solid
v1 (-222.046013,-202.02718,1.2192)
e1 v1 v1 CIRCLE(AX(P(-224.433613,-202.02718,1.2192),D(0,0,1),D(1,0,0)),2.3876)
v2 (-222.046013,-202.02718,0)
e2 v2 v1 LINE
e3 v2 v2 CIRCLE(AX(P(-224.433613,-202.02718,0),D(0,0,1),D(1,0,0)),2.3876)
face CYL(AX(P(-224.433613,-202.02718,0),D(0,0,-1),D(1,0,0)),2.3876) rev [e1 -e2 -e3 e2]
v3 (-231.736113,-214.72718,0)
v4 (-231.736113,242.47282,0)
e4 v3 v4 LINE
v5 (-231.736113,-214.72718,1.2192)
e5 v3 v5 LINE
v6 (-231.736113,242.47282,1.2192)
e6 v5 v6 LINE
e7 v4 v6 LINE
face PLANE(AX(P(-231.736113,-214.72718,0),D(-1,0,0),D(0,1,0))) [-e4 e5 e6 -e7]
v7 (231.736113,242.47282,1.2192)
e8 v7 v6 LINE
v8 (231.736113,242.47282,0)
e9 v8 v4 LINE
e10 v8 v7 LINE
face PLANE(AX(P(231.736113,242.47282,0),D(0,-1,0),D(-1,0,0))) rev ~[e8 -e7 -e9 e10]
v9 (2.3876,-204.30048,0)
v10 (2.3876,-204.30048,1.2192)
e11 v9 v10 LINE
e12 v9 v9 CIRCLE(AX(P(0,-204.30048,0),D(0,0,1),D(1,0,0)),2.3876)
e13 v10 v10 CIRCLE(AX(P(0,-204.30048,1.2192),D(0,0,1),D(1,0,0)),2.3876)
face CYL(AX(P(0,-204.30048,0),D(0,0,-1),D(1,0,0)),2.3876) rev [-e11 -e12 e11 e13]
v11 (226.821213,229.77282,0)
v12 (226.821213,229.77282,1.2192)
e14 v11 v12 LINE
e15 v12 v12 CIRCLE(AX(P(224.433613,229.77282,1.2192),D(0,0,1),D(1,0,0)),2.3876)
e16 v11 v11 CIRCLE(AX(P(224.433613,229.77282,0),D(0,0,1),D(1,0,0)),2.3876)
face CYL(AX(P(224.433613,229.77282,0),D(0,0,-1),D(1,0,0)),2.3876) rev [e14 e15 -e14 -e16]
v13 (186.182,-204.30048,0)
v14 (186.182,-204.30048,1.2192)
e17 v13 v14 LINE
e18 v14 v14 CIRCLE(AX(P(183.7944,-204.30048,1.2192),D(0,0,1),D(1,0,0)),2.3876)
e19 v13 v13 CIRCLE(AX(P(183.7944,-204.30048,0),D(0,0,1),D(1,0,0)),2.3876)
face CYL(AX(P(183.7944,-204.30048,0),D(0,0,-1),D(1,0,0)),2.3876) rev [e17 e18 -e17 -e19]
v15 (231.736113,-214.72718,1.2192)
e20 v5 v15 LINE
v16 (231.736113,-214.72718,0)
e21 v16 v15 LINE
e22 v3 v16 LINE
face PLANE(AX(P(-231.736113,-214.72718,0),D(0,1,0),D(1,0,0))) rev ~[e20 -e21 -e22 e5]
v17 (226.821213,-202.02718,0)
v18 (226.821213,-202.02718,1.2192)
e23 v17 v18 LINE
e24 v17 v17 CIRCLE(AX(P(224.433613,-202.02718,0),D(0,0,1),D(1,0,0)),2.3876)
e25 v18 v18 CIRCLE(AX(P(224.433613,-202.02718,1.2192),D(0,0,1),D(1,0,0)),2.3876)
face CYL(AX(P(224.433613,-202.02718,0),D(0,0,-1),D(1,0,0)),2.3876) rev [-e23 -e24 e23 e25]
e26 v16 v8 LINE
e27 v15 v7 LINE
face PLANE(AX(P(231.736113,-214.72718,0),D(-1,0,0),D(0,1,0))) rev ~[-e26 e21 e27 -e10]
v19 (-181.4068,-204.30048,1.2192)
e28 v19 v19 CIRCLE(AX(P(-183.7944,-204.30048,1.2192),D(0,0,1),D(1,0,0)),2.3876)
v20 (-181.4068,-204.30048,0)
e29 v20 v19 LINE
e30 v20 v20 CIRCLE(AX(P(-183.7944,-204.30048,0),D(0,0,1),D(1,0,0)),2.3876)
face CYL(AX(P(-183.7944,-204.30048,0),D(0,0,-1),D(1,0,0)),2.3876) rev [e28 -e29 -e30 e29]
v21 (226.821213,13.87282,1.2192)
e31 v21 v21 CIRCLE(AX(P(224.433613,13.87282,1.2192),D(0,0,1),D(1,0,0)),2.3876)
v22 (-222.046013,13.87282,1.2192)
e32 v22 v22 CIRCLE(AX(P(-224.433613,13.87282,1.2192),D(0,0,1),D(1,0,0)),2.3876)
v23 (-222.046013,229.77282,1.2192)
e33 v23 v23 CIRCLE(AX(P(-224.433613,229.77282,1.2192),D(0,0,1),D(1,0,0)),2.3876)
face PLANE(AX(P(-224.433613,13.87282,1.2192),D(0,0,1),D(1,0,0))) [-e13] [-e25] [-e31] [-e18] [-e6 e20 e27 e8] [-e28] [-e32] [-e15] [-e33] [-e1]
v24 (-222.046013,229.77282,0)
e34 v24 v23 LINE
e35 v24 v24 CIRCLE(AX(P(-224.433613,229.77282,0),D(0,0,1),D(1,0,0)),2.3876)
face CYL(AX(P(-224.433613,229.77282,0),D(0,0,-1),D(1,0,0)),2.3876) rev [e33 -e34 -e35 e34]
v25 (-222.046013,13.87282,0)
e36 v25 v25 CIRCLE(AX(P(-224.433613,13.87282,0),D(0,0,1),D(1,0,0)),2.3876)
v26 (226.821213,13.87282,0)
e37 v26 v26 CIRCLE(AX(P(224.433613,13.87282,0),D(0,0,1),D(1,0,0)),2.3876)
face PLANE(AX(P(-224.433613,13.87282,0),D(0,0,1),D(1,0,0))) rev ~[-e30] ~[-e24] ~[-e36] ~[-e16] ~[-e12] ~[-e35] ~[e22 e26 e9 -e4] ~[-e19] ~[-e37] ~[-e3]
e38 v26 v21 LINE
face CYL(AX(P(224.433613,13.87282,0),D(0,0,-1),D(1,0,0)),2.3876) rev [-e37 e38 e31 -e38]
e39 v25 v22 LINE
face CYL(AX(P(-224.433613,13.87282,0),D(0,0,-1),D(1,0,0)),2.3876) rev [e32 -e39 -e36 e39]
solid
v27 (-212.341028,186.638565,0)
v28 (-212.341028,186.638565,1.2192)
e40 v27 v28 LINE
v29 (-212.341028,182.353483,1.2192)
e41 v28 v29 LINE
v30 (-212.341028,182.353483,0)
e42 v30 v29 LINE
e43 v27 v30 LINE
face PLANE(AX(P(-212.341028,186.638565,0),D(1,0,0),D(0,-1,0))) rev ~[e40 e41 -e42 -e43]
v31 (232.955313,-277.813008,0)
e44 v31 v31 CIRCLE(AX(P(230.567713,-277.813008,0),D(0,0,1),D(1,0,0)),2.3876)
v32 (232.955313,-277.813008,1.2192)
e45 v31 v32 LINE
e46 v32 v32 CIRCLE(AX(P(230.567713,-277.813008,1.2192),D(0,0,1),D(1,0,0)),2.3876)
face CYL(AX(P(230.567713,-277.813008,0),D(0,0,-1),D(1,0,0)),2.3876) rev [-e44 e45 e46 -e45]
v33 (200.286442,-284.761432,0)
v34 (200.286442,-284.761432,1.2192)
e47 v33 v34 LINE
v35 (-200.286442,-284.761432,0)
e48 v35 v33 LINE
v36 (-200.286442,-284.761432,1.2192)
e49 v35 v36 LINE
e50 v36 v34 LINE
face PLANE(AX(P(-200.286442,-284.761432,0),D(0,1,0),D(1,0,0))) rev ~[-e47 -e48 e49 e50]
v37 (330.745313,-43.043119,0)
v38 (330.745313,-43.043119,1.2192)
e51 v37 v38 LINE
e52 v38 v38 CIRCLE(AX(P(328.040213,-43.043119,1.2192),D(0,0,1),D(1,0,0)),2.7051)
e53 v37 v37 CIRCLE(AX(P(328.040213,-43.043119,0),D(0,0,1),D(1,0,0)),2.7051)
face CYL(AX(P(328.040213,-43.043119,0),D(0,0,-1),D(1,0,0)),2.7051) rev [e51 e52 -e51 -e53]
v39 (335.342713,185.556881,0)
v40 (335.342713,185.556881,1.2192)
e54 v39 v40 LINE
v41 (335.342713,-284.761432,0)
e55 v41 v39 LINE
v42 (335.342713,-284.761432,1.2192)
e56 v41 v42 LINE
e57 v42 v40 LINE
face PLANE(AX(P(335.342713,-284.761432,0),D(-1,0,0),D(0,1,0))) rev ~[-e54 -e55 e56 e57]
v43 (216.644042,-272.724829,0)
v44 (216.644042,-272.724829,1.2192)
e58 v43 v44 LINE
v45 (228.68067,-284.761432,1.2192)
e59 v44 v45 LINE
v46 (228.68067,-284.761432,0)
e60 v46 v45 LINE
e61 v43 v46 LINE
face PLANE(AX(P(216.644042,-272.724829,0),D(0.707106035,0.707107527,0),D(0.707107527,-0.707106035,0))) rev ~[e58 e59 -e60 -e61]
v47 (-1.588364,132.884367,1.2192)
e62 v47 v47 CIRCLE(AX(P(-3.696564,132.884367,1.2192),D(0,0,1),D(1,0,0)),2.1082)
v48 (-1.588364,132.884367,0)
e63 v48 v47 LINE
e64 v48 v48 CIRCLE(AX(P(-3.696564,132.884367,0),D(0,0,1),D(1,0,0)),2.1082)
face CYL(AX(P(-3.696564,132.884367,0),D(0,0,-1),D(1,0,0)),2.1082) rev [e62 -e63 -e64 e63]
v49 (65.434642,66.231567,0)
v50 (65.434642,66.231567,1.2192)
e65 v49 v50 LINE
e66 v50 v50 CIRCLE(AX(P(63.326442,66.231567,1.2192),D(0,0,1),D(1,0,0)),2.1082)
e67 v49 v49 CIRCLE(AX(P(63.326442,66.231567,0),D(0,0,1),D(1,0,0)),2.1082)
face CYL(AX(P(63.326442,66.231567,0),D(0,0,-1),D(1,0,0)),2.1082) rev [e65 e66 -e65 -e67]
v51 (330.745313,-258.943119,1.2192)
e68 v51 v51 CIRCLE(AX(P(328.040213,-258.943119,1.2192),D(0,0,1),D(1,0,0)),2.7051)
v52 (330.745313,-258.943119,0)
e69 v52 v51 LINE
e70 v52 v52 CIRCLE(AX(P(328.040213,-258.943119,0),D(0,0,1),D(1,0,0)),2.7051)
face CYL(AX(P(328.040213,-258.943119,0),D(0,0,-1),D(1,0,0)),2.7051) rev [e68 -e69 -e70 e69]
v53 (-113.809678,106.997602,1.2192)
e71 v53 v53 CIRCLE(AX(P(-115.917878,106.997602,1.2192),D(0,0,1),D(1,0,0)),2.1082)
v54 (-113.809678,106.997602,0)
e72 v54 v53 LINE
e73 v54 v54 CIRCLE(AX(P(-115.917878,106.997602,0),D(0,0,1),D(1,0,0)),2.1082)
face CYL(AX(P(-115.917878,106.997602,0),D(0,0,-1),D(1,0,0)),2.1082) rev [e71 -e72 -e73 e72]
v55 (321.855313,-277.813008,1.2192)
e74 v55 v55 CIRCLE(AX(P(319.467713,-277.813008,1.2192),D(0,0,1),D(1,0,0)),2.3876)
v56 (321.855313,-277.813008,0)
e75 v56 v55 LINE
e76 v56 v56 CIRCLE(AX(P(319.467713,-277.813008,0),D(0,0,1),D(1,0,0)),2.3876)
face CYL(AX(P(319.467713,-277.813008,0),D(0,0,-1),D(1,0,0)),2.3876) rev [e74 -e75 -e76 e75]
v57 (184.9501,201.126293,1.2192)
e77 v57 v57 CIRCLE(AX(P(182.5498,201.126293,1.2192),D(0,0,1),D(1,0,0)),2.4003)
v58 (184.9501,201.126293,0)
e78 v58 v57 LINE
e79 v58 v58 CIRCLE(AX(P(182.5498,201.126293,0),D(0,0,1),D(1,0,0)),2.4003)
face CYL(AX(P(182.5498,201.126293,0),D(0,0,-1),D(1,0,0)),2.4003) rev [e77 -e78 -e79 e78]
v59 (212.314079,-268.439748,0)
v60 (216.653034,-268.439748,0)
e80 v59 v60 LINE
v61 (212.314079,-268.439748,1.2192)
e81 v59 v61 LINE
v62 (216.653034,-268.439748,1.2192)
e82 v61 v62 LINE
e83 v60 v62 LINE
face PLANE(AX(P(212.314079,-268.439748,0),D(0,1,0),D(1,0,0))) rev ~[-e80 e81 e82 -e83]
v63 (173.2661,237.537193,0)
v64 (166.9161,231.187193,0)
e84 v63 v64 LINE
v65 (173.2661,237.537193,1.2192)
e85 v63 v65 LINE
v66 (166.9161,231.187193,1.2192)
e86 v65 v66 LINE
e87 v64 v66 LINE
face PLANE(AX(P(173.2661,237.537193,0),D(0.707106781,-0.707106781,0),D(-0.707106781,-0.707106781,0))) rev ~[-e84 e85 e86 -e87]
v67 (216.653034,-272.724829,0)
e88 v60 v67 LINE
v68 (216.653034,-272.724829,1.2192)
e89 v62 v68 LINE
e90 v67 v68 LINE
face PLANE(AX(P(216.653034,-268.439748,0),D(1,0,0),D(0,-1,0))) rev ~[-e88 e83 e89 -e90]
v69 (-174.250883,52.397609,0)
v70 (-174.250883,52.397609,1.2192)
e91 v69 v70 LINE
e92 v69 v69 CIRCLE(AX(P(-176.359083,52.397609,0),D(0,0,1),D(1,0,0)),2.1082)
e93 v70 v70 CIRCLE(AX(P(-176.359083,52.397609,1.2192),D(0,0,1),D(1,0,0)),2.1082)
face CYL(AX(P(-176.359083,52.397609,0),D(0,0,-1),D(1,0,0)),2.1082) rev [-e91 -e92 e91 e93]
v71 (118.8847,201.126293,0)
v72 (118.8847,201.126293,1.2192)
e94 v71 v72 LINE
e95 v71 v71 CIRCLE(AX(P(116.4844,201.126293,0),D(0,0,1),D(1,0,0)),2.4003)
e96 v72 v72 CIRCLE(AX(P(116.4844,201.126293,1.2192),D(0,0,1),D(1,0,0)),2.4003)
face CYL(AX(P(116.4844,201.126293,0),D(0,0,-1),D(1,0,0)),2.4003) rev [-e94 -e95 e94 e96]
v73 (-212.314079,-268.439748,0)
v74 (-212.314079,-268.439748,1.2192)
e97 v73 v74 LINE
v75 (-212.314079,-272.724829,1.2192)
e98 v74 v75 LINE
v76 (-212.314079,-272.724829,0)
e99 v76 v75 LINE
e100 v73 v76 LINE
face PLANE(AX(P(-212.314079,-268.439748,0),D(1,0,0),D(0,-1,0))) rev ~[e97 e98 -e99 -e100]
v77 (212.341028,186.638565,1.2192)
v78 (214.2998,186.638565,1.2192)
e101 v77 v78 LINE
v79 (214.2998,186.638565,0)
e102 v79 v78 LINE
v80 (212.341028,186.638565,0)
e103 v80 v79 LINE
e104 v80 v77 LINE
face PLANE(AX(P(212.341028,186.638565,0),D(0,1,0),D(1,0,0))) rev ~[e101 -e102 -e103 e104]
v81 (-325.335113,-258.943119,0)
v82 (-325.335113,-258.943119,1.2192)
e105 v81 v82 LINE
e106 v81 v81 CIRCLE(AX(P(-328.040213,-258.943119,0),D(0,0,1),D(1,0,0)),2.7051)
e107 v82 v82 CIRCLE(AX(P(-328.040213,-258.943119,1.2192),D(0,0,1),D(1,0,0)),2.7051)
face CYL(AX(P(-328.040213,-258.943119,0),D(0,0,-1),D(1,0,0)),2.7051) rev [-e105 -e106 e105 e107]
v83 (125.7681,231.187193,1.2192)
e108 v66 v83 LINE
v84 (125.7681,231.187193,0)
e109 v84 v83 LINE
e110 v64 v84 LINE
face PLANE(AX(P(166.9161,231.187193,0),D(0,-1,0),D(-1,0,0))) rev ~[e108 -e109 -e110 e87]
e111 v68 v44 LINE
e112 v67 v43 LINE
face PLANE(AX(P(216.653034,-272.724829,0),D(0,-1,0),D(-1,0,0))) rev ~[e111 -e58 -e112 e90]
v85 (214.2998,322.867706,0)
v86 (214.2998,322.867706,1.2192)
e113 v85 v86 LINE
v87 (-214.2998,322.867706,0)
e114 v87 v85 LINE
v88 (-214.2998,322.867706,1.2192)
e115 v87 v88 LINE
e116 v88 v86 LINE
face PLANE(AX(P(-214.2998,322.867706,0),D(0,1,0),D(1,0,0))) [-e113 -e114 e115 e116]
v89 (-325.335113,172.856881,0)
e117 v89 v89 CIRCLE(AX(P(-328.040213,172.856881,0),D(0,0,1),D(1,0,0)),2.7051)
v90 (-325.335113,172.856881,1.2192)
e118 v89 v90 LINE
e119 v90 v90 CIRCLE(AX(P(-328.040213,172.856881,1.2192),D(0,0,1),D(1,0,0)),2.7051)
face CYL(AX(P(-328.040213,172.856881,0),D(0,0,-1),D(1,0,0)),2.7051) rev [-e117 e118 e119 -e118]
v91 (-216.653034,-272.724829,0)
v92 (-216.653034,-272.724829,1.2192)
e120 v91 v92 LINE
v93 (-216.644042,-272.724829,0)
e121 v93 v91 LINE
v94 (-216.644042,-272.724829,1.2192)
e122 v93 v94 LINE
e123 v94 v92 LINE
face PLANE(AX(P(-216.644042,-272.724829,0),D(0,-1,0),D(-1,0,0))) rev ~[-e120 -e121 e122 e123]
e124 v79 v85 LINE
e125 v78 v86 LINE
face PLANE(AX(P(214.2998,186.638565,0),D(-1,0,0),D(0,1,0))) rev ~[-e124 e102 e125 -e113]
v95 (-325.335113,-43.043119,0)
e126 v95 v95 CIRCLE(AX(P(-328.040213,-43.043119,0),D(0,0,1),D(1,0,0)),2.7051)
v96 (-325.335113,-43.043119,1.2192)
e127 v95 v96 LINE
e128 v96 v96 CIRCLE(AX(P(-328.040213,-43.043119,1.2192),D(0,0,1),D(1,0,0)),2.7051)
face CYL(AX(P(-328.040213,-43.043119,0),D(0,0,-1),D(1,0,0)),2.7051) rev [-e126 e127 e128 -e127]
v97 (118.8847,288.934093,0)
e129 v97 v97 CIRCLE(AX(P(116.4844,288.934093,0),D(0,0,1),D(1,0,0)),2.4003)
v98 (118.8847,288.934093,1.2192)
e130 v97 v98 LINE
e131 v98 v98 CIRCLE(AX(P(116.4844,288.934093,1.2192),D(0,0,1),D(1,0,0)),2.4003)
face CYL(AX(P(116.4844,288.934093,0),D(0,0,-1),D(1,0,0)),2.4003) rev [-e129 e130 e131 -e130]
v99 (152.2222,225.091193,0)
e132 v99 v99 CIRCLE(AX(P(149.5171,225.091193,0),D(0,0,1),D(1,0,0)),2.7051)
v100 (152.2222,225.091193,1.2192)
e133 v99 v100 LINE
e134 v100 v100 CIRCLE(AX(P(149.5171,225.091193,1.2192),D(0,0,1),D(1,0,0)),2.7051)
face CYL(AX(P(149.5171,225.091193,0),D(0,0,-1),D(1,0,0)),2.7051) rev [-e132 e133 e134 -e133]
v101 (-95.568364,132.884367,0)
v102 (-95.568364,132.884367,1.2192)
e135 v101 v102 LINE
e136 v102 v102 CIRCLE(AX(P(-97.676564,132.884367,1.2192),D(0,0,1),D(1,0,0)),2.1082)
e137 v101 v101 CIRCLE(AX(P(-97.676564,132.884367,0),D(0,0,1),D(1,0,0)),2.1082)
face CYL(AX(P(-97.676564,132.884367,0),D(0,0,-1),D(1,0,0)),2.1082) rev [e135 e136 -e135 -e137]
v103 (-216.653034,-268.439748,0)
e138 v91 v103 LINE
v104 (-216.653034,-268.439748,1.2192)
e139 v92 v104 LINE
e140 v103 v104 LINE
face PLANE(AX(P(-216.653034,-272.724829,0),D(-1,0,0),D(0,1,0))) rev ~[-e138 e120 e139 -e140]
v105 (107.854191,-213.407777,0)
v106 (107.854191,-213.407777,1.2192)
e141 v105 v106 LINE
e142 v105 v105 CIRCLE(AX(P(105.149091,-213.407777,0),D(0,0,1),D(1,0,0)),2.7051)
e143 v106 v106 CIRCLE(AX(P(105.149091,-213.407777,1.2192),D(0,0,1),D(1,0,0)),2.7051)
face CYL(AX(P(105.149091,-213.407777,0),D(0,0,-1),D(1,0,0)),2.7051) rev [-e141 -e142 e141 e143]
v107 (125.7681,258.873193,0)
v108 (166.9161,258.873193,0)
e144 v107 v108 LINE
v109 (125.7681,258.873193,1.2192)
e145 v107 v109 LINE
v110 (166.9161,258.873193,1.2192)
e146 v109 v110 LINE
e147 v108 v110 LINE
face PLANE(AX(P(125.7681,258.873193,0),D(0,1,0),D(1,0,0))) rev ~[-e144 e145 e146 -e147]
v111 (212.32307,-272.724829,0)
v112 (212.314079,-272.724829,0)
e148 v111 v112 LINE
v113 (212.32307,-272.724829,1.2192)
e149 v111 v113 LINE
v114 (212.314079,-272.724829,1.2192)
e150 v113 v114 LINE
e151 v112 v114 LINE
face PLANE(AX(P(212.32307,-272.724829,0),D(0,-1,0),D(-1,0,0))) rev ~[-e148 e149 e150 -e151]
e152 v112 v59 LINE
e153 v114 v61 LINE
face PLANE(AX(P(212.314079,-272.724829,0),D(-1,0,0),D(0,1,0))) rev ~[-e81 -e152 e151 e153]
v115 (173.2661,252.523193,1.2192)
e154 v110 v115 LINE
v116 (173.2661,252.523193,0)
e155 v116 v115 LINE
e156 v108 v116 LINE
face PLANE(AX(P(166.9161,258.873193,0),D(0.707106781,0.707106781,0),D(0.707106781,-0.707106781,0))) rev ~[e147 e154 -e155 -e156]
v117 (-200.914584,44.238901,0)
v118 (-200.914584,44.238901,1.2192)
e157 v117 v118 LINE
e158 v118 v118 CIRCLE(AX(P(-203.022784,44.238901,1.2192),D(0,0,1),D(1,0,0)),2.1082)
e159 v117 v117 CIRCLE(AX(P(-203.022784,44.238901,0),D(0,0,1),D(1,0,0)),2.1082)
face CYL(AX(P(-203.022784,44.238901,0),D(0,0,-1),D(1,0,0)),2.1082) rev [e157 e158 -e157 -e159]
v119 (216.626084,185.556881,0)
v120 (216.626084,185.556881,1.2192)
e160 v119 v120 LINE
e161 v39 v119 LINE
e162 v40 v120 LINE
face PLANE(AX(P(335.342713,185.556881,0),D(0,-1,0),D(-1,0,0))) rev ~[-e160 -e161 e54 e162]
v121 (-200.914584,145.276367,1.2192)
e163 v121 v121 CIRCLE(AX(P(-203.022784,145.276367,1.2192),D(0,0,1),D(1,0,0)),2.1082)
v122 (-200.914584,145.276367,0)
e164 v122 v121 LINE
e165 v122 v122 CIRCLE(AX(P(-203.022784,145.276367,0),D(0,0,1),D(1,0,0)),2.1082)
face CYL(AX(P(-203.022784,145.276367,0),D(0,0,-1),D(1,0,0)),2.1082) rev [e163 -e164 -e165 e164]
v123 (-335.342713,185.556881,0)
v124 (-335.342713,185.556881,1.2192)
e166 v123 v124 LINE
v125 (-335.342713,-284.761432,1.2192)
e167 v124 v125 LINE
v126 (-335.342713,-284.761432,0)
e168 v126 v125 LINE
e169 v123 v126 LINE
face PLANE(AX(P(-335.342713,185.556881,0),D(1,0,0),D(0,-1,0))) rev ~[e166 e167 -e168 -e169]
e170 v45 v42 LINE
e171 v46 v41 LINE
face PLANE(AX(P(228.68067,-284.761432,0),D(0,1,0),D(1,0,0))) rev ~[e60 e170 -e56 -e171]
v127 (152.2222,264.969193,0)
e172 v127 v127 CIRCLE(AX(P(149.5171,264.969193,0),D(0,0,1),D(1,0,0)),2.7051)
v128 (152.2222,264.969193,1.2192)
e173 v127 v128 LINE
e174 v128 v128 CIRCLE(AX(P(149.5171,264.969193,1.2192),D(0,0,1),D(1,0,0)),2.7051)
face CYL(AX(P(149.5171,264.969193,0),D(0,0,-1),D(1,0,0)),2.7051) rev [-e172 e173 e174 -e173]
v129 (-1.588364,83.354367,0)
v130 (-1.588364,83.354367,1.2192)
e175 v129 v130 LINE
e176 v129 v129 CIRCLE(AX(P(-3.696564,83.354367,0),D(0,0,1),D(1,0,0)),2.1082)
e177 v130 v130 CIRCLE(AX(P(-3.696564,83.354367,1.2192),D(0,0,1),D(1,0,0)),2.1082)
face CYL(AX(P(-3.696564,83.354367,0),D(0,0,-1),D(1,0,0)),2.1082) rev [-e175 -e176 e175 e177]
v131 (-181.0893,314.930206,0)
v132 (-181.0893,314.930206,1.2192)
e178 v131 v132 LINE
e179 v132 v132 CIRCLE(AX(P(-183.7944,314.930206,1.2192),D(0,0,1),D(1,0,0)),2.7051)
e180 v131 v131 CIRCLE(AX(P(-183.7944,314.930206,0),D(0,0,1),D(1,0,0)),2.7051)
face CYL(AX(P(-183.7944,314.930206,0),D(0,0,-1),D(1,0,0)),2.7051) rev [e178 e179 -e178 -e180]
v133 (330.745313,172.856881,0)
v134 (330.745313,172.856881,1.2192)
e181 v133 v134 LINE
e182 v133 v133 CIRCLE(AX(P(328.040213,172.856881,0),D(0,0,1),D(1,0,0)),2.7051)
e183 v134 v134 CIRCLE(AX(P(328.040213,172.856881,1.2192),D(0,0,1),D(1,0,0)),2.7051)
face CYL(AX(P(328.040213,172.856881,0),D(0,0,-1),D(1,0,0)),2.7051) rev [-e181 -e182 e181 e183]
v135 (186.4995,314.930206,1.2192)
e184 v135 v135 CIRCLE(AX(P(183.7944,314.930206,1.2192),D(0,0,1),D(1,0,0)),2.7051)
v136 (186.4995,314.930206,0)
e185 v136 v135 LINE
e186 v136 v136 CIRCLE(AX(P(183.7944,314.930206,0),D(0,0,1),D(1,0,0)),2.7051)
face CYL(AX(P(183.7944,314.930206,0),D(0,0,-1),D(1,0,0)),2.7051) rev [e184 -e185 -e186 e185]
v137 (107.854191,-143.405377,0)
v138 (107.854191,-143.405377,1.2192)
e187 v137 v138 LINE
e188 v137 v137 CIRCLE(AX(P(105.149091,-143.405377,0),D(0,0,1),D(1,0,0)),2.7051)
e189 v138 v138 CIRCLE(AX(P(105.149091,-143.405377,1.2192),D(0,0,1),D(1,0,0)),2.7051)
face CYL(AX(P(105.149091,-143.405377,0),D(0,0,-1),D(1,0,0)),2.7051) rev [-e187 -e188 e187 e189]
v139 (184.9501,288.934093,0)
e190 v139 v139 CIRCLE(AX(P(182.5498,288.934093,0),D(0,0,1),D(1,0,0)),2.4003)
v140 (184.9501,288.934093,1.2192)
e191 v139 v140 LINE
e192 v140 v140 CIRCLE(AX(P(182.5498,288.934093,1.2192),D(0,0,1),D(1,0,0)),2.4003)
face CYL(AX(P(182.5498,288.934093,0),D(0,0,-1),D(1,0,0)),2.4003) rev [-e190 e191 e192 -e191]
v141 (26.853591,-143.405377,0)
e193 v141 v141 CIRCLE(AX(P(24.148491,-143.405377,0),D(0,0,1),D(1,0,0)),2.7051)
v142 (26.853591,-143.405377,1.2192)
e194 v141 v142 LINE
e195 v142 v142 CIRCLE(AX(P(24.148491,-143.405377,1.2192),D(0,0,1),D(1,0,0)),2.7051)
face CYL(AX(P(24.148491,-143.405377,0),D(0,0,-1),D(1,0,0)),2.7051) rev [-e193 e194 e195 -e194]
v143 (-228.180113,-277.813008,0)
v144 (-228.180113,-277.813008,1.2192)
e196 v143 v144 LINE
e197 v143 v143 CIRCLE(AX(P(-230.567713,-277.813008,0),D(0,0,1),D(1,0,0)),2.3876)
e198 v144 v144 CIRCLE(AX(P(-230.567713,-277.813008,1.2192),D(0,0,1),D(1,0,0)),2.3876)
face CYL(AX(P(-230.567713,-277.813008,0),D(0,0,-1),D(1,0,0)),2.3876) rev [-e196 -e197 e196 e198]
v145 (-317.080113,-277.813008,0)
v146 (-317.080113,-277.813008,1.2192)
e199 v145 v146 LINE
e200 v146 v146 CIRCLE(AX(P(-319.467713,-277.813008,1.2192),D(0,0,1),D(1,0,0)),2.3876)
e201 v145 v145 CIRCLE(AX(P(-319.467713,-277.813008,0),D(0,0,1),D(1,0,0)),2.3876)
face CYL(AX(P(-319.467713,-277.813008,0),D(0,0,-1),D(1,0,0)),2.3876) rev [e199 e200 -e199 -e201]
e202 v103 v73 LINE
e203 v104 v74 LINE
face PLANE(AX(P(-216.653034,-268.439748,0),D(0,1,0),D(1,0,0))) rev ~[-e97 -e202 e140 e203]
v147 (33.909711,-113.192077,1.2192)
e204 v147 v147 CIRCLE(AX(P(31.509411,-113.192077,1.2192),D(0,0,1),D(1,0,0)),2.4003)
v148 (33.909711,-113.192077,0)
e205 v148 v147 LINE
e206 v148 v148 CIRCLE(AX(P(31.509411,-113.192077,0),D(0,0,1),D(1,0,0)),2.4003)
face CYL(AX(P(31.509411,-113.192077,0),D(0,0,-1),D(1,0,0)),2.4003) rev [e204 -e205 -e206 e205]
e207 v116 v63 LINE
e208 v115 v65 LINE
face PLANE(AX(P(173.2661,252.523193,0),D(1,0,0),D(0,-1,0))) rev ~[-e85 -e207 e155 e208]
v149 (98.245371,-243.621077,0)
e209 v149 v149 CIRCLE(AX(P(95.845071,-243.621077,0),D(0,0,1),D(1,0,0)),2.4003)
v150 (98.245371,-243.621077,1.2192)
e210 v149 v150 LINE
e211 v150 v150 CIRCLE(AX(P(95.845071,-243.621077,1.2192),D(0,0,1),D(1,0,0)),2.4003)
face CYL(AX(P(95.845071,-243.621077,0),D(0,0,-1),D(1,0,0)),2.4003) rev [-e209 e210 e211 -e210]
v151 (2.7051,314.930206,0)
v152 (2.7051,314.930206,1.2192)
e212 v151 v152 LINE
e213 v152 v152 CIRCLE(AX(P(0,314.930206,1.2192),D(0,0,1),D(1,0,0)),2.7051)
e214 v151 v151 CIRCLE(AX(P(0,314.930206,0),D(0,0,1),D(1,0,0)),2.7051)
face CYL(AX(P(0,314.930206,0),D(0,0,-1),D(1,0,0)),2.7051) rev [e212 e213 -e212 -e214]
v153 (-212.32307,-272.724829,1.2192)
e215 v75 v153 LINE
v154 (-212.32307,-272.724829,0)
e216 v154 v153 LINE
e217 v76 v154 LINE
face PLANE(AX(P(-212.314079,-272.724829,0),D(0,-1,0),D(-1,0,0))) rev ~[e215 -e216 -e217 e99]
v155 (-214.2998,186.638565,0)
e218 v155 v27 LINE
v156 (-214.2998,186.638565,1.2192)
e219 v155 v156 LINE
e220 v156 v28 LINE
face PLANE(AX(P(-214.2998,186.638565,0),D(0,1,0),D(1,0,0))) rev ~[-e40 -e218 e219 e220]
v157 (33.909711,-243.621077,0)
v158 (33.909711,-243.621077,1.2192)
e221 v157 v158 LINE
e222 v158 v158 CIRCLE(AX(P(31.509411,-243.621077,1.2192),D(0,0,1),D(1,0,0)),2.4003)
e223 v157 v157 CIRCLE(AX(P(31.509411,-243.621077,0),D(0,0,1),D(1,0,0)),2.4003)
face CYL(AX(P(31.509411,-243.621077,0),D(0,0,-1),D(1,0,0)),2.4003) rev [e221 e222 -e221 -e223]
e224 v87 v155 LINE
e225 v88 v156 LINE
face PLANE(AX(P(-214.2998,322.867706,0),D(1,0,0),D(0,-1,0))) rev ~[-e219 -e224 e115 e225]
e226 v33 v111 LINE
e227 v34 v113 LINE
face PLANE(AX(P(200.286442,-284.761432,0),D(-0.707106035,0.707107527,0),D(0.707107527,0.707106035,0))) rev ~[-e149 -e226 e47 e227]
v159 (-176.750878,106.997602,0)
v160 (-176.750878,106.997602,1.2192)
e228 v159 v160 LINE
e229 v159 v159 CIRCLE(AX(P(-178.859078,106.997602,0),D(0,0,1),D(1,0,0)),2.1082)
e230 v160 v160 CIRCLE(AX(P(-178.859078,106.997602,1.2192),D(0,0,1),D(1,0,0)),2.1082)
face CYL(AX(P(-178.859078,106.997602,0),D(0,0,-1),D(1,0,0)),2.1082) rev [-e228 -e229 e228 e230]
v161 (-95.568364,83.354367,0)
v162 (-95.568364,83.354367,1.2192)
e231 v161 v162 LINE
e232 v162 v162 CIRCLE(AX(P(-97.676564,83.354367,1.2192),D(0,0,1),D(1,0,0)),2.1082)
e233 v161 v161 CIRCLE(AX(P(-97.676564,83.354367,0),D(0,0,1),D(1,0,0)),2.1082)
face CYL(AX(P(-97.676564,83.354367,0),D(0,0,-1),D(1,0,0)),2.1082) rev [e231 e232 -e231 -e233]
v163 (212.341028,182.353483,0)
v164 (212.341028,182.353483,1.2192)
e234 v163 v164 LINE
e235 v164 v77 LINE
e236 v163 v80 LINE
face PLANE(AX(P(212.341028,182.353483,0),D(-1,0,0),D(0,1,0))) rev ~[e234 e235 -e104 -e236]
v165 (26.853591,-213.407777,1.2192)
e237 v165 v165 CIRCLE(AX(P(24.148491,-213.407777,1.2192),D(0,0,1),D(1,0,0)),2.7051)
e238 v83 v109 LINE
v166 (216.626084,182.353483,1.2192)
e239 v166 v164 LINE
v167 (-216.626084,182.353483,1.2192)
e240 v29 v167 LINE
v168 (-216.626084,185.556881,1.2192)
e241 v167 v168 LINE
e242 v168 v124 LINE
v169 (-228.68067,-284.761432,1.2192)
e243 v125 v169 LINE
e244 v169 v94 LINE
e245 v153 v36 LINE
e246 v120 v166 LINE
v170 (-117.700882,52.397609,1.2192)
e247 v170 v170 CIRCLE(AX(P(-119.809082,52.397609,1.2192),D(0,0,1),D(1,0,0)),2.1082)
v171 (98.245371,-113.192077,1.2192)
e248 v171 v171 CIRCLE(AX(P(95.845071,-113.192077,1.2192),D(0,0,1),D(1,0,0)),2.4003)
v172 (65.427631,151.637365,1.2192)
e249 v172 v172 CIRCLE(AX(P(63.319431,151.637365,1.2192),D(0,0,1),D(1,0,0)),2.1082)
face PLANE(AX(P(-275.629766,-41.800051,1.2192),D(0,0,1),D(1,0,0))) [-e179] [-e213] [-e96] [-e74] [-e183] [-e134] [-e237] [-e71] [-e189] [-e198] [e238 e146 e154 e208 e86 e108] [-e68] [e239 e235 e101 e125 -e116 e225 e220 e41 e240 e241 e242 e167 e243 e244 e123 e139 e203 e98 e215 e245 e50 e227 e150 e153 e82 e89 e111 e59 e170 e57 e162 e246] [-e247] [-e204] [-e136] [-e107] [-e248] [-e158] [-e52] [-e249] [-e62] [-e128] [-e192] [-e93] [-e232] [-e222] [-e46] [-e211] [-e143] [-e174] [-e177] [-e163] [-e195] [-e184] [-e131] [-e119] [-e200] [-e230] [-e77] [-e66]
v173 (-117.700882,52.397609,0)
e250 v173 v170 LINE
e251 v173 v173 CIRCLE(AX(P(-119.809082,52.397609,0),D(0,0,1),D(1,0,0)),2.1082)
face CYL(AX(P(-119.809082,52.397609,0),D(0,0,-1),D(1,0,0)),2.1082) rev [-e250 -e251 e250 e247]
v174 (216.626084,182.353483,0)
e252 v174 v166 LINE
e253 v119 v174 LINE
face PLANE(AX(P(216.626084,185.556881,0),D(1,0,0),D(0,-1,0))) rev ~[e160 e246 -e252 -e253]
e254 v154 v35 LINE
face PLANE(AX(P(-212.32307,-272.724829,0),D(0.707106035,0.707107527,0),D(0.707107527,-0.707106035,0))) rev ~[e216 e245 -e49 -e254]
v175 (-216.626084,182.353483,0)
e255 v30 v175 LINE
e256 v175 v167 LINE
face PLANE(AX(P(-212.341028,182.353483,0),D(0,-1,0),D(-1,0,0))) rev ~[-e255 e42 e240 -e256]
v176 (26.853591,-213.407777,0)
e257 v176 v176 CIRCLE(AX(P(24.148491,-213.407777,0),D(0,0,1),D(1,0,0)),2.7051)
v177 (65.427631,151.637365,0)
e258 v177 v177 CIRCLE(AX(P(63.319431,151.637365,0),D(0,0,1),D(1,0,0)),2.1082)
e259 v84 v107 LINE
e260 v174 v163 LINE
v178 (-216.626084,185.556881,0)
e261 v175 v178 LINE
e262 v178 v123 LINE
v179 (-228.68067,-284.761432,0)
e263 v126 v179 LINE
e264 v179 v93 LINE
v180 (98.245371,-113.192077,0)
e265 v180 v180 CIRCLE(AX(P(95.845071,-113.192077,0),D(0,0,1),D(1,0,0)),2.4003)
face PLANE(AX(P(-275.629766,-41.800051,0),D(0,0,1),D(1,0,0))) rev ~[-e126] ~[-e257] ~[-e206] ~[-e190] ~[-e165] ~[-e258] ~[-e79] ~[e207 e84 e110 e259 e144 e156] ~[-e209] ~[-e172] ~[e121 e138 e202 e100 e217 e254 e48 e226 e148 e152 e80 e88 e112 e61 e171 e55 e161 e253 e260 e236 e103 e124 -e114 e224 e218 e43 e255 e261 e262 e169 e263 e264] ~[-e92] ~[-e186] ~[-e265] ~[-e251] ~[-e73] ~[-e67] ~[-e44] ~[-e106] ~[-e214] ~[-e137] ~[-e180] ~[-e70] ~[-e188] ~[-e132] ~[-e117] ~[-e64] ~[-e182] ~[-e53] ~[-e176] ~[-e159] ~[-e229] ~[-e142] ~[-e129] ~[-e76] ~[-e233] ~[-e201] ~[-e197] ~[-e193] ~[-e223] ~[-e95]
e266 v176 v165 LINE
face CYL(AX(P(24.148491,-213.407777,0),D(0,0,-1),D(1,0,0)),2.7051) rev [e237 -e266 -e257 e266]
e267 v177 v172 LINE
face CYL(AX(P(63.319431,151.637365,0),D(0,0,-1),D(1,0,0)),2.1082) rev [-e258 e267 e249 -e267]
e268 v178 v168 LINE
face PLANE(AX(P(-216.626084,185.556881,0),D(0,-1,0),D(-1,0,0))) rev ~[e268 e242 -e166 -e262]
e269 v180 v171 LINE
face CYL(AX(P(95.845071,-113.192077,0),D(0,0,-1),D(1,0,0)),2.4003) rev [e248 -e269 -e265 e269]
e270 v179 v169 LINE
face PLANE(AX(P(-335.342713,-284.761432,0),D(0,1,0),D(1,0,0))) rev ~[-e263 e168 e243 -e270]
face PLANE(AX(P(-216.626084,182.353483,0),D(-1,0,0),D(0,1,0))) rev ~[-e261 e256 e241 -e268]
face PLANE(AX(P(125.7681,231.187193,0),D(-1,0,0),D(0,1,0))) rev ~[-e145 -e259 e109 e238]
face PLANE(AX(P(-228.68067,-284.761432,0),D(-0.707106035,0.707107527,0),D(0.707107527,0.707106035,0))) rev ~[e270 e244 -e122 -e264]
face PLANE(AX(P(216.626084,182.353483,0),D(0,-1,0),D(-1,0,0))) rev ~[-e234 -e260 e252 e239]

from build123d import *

# Parameters (mm, degrees)
F0_R     = 2.7051
F0_W     = 118.6896788
F0_H     = 1.428369
F0_H_2   = 1.4283436
F0_R_2   = 2.3876
F0_W_2   = 1.4283436
F0_H_3   = 450.793231
F0_W_3   = 1.428369
F0_W_4   = 424.6281576
F0_R_3   = 2.4003
F0_R_4   = 2.1082
F0_W_5   = 424.6820564
F0_W_6   = 428.5996
F0_H_4   = 15.875
F1_DEPTH = 1.2192
F2_W     = 14.605
F2_H     = 457.2
F2_R     = 2.3876
F2_W_2   = 1.4283436
F2_W_3   = 1.428369
F2_W_4   = 428.5488
F3_DEPTH = 1.2192


with BuildPart() as f1:
    # F0 (on Top) → F1 (new body)
    with BuildSketch(Plane.XY):
        Polygon((-216.6530338, -268.4397476), (-215.9119126, -268.4397476), (-215.9119126, 182.3534834), (-216.6260844, 182.3534834), (-216.6260844, 185.5568806), (-335.3427126, 185.5568806), (-335.3427126, -269.1539194), (-216.6530338, -269.1539194), align=None)
        with Locations((-328.0402126, -258.9431194)):
            Circle(F0_R, mode=Mode.SUBTRACT)
        with Locations((-328.0402126, -43.0431194)):
            Circle(F0_R, mode=Mode.SUBTRACT)
        with Locations((-328.0402126, 172.8568806)):
            Circle(F0_R, mode=Mode.SUBTRACT)
        with Locations((-275.9978732, -269.8681039)):
            Rectangle(F0_W, F0_H)
        with Locations((-275.9978732, -271.2964602)):
            Rectangle(F0_W, F0_H_2)
        Polygon((-216.6530338, -272.7248292), (-216.6530338, -272.010632), (-335.3427126, -272.010632), (-335.3427126, -284.761432), (-228.6806704, -284.761432), (-216.6440422, -272.7248292), align=None)
        with Locations((-319.4677126, -277.813008)):
            Circle(F0_R_2, mode=Mode.SUBTRACT)
        with Locations((-230.5677126, -277.813008)):
            Circle(F0_R_2, mode=Mode.SUBTRACT)
        with Locations((-215.1977408, -43.0431321)):
            Rectangle(F0_W_2, F0_H_3)
        with Locations((-213.7693845, -43.0431321)):
            Rectangle(F0_W_3, F0_H_3)
        with Locations((0, -269.8681039)):
            Rectangle(F0_W_4, F0_H)
        with Locations((0, -271.2964602)):
            Rectangle(F0_W_4, F0_H_2)
        Polygon((212.3140788, -272.7248292), (212.3140788, -272.010632), (-212.3140788, -272.010632), (-212.3140788, -272.7248292), (-212.3230704, -272.7248292), (-200.2864422, -284.761432), (200.2864422, -284.761432), (212.3230704, -272.7248292), align=None)
        Polygon((212.3140788, -268.4397476), (213.0552, -268.4397476), (213.0552, 182.3534834), (212.3410282, 182.3534834), (212.3410282, 183.0676806), (-212.3410282, 183.0676806), (-212.3410282, 182.3534834), (-213.0552, 182.3534834), (-213.0552, -268.4397476), (-212.3140788, -268.4397476), (-212.3140788, -269.1539194), (212.3140788, -269.1539194), align=None)
        with Locations((31.5094112, -243.6210774)):
            Circle(F0_R_3, mode=Mode.SUBTRACT)
        with Locations((24.1484912, -213.4077774)):
            Circle(F0_R, mode=Mode.SUBTRACT)
        with Locations((95.8450712, -243.6210774)):
            Circle(F0_R_3, mode=Mode.SUBTRACT)
        with Locations((105.1490912, -213.4077774)):
            Circle(F0_R, mode=Mode.SUBTRACT)
        with Locations((24.1484912, -143.4053774)):
            Circle(F0_R, mode=Mode.SUBTRACT)
        with Locations((105.1490912, -143.4053774)):
            Circle(F0_R, mode=Mode.SUBTRACT)
        with Locations((31.5094112, -113.1920774)):
            Circle(F0_R_3, mode=Mode.SUBTRACT)
        with Locations((95.8450712, -113.1920774)):
            Circle(F0_R_3, mode=Mode.SUBTRACT)
        with Locations((-203.0227842, 44.2389006)):
            Circle(F0_R_4, mode=Mode.SUBTRACT)
        with Locations((-176.3590834, 52.3976092)):
            Circle(F0_R_4, mode=Mode.SUBTRACT)
        with Locations((-178.8590784, 106.9976016)):
            Circle(F0_R_4, mode=Mode.SUBTRACT)
        with Locations((-203.0227842, 145.2763668)):
            Circle(F0_R_4, mode=Mode.SUBTRACT)
        with Locations((-119.8090822, 52.3976092)):
            Circle(F0_R_4, mode=Mode.SUBTRACT)
        with Locations((-97.6765636, 83.3543672)):
            Circle(F0_R_4, mode=Mode.SUBTRACT)
        with Locations((-3.6965636, 83.3543672)):
            Circle(F0_R_4, mode=Mode.SUBTRACT)
        with Locations((-115.9178784, 106.9976016)):
            Circle(F0_R_4, mode=Mode.SUBTRACT)
        with Locations((-97.6765636, 132.8843672)):
            Circle(F0_R_4, mode=Mode.SUBTRACT)
        with Locations((-3.6965636, 132.8843672)):
            Circle(F0_R_4, mode=Mode.SUBTRACT)
        with Locations((63.3264418, 66.2315668)):
            Circle(F0_R_4, mode=Mode.SUBTRACT)
        with Locations((63.3194314, 151.637365)):
            Circle(F0_R_4, mode=Mode.SUBTRACT)
        with Locations((213.7693718, -43.0431321)):
            Rectangle(F0_W_2, F0_H_3)
        with Locations((215.1977281, -43.0431321)):
            Rectangle(F0_W_3, F0_H_3)
        Polygon((215.9119126, 182.3534834), (215.9119126, -268.4397476), (216.6530338, -268.4397476), (216.6530338, -269.1539194), (335.3427126, -269.1539194), (335.3427126, 185.5568806), (216.6260844, 185.5568806), (216.6260844, 182.3534834), align=None)
        with Locations((328.0402126, -258.9431194)):
            Circle(F0_R, mode=Mode.SUBTRACT)
        with Locations((328.0402126, -43.0431194)):
            Circle(F0_R, mode=Mode.SUBTRACT)
        with Locations((328.0402126, 172.8568806)):
            Circle(F0_R, mode=Mode.SUBTRACT)
        with Locations((275.9978732, -269.8681039)):
            Rectangle(F0_W, F0_H)
        with Locations((275.9978732, -271.2964602)):
            Rectangle(F0_W, F0_H_2)
        Polygon((335.3427126, -272.010632), (216.6530338, -272.010632), (216.6530338, -272.7248292), (216.6440422, -272.7248292), (228.6806704, -284.761432), (335.3427126, -284.761432), align=None)
        with Locations((230.5677126, -277.813008)):
            Circle(F0_R_2, mode=Mode.SUBTRACT)
        with Locations((319.4677126, -277.813008)):
            Circle(F0_R_2, mode=Mode.SUBTRACT)
        Polygon((-212.3410282, 185.9243932), (212.3410282, 185.9243932), (212.3410282, 186.638565), (214.2998, 186.638565), (214.2998, 304.1359932), (-214.2998, 304.1359932), (-214.2998, 186.638565), (-212.3410282, 186.638565), align=None)
        with Locations((116.4844, 201.1262932)):
            Circle(F0_R_3, mode=Mode.SUBTRACT)
        with Locations((149.5171, 225.0911932)):
            Circle(F0_R, mode=Mode.SUBTRACT)
        Polygon((166.9161, 231.1871932), (125.7681, 231.1871932), (125.7681, 258.8731932), (166.9161, 258.8731932), (173.2661, 252.5231932), (173.2661, 237.5371932), align=None, mode=Mode.SUBTRACT)
        with Locations((149.5171, 264.9691932)):
            Circle(F0_R, mode=Mode.SUBTRACT)
        with Locations((116.4844, 288.9340932)):
            Circle(F0_R_3, mode=Mode.SUBTRACT)
        with Locations((182.5498, 201.1262932)):
            Circle(F0_R_3, mode=Mode.SUBTRACT)
        with Locations((182.5498, 288.9340932)):
            Circle(F0_R_3, mode=Mode.SUBTRACT)
        with Locations((0, 185.2102087)):
            Rectangle(F0_W_5, F0_H)
        with Locations((0, 183.7818524)):
            Rectangle(F0_W_5, F0_H_2)
        with Locations((0, 314.9302058)):
            Rectangle(F0_W_6, F0_H_4)
        with Locations((-183.7944, 314.9302058)):
            Circle(F0_R, mode=Mode.SUBTRACT)
        with Locations((0, 314.9302058)):
            Circle(F0_R, mode=Mode.SUBTRACT)
        with Locations((183.7944, 314.9302058)):
            Circle(F0_R, mode=Mode.SUBTRACT)
        with Locations((0, 306.2785213)):
            Rectangle(F0_W_6, F0_H)
        with Locations((0, 304.850165)):
            Rectangle(F0_W_6, F0_H_2)
    extrude(amount=F1_DEPTH)


with BuildPart() as f3:
    # F2 (on Top) → F3 (new body)
    with BuildSketch(Plane.XY):
        with Locations((-224.4336126, 13.8728196)):
            Rectangle(F2_W, F2_H)
        with Locations((-224.4336126, -202.0271804)):
            Circle(F2_R, mode=Mode.SUBTRACT)
        with Locations((-224.4336126, 13.8728196)):
            Circle(F2_R, mode=Mode.SUBTRACT)
        with Locations((-224.4336126, 229.7728196)):
            Circle(F2_R, mode=Mode.SUBTRACT)
        with Locations((-216.4169408, 13.8728196)):
            Rectangle(F2_W_2, F2_H)
        with Locations((-214.9885845, 13.8728196)):
            Rectangle(F2_W_3, F2_H)
        with Locations((0, 13.8728196)):
            Rectangle(F2_W_4, F2_H)
        with Locations((-183.7944, -204.3004804)):
            Circle(F2_R, mode=Mode.SUBTRACT)
        with Locations((0, -204.3004804)):
            Circle(F2_R, mode=Mode.SUBTRACT)
        with Locations((183.7944, -204.3004804)):
            Circle(F2_R, mode=Mode.SUBTRACT)
        with Locations((214.9885718, 13.8728196)):
            Rectangle(F2_W_2, F2_H)
        with Locations((216.4169281, 13.8728196)):
            Rectangle(F2_W_3, F2_H)
        with Locations((224.4336126, 13.8728196)):
            Rectangle(F2_W, F2_H)
        with Locations((224.4336126, -202.0271804)):
            Circle(F2_R, mode=Mode.SUBTRACT)
        with Locations((224.4336126, 13.8728196)):
            Circle(F2_R, mode=Mode.SUBTRACT)
        with Locations((224.4336126, 229.7728196)):
            Circle(F2_R, mode=Mode.SUBTRACT)
    extrude(amount=F3_DEPTH)


solid = Compound([f1.part, f3.part])
